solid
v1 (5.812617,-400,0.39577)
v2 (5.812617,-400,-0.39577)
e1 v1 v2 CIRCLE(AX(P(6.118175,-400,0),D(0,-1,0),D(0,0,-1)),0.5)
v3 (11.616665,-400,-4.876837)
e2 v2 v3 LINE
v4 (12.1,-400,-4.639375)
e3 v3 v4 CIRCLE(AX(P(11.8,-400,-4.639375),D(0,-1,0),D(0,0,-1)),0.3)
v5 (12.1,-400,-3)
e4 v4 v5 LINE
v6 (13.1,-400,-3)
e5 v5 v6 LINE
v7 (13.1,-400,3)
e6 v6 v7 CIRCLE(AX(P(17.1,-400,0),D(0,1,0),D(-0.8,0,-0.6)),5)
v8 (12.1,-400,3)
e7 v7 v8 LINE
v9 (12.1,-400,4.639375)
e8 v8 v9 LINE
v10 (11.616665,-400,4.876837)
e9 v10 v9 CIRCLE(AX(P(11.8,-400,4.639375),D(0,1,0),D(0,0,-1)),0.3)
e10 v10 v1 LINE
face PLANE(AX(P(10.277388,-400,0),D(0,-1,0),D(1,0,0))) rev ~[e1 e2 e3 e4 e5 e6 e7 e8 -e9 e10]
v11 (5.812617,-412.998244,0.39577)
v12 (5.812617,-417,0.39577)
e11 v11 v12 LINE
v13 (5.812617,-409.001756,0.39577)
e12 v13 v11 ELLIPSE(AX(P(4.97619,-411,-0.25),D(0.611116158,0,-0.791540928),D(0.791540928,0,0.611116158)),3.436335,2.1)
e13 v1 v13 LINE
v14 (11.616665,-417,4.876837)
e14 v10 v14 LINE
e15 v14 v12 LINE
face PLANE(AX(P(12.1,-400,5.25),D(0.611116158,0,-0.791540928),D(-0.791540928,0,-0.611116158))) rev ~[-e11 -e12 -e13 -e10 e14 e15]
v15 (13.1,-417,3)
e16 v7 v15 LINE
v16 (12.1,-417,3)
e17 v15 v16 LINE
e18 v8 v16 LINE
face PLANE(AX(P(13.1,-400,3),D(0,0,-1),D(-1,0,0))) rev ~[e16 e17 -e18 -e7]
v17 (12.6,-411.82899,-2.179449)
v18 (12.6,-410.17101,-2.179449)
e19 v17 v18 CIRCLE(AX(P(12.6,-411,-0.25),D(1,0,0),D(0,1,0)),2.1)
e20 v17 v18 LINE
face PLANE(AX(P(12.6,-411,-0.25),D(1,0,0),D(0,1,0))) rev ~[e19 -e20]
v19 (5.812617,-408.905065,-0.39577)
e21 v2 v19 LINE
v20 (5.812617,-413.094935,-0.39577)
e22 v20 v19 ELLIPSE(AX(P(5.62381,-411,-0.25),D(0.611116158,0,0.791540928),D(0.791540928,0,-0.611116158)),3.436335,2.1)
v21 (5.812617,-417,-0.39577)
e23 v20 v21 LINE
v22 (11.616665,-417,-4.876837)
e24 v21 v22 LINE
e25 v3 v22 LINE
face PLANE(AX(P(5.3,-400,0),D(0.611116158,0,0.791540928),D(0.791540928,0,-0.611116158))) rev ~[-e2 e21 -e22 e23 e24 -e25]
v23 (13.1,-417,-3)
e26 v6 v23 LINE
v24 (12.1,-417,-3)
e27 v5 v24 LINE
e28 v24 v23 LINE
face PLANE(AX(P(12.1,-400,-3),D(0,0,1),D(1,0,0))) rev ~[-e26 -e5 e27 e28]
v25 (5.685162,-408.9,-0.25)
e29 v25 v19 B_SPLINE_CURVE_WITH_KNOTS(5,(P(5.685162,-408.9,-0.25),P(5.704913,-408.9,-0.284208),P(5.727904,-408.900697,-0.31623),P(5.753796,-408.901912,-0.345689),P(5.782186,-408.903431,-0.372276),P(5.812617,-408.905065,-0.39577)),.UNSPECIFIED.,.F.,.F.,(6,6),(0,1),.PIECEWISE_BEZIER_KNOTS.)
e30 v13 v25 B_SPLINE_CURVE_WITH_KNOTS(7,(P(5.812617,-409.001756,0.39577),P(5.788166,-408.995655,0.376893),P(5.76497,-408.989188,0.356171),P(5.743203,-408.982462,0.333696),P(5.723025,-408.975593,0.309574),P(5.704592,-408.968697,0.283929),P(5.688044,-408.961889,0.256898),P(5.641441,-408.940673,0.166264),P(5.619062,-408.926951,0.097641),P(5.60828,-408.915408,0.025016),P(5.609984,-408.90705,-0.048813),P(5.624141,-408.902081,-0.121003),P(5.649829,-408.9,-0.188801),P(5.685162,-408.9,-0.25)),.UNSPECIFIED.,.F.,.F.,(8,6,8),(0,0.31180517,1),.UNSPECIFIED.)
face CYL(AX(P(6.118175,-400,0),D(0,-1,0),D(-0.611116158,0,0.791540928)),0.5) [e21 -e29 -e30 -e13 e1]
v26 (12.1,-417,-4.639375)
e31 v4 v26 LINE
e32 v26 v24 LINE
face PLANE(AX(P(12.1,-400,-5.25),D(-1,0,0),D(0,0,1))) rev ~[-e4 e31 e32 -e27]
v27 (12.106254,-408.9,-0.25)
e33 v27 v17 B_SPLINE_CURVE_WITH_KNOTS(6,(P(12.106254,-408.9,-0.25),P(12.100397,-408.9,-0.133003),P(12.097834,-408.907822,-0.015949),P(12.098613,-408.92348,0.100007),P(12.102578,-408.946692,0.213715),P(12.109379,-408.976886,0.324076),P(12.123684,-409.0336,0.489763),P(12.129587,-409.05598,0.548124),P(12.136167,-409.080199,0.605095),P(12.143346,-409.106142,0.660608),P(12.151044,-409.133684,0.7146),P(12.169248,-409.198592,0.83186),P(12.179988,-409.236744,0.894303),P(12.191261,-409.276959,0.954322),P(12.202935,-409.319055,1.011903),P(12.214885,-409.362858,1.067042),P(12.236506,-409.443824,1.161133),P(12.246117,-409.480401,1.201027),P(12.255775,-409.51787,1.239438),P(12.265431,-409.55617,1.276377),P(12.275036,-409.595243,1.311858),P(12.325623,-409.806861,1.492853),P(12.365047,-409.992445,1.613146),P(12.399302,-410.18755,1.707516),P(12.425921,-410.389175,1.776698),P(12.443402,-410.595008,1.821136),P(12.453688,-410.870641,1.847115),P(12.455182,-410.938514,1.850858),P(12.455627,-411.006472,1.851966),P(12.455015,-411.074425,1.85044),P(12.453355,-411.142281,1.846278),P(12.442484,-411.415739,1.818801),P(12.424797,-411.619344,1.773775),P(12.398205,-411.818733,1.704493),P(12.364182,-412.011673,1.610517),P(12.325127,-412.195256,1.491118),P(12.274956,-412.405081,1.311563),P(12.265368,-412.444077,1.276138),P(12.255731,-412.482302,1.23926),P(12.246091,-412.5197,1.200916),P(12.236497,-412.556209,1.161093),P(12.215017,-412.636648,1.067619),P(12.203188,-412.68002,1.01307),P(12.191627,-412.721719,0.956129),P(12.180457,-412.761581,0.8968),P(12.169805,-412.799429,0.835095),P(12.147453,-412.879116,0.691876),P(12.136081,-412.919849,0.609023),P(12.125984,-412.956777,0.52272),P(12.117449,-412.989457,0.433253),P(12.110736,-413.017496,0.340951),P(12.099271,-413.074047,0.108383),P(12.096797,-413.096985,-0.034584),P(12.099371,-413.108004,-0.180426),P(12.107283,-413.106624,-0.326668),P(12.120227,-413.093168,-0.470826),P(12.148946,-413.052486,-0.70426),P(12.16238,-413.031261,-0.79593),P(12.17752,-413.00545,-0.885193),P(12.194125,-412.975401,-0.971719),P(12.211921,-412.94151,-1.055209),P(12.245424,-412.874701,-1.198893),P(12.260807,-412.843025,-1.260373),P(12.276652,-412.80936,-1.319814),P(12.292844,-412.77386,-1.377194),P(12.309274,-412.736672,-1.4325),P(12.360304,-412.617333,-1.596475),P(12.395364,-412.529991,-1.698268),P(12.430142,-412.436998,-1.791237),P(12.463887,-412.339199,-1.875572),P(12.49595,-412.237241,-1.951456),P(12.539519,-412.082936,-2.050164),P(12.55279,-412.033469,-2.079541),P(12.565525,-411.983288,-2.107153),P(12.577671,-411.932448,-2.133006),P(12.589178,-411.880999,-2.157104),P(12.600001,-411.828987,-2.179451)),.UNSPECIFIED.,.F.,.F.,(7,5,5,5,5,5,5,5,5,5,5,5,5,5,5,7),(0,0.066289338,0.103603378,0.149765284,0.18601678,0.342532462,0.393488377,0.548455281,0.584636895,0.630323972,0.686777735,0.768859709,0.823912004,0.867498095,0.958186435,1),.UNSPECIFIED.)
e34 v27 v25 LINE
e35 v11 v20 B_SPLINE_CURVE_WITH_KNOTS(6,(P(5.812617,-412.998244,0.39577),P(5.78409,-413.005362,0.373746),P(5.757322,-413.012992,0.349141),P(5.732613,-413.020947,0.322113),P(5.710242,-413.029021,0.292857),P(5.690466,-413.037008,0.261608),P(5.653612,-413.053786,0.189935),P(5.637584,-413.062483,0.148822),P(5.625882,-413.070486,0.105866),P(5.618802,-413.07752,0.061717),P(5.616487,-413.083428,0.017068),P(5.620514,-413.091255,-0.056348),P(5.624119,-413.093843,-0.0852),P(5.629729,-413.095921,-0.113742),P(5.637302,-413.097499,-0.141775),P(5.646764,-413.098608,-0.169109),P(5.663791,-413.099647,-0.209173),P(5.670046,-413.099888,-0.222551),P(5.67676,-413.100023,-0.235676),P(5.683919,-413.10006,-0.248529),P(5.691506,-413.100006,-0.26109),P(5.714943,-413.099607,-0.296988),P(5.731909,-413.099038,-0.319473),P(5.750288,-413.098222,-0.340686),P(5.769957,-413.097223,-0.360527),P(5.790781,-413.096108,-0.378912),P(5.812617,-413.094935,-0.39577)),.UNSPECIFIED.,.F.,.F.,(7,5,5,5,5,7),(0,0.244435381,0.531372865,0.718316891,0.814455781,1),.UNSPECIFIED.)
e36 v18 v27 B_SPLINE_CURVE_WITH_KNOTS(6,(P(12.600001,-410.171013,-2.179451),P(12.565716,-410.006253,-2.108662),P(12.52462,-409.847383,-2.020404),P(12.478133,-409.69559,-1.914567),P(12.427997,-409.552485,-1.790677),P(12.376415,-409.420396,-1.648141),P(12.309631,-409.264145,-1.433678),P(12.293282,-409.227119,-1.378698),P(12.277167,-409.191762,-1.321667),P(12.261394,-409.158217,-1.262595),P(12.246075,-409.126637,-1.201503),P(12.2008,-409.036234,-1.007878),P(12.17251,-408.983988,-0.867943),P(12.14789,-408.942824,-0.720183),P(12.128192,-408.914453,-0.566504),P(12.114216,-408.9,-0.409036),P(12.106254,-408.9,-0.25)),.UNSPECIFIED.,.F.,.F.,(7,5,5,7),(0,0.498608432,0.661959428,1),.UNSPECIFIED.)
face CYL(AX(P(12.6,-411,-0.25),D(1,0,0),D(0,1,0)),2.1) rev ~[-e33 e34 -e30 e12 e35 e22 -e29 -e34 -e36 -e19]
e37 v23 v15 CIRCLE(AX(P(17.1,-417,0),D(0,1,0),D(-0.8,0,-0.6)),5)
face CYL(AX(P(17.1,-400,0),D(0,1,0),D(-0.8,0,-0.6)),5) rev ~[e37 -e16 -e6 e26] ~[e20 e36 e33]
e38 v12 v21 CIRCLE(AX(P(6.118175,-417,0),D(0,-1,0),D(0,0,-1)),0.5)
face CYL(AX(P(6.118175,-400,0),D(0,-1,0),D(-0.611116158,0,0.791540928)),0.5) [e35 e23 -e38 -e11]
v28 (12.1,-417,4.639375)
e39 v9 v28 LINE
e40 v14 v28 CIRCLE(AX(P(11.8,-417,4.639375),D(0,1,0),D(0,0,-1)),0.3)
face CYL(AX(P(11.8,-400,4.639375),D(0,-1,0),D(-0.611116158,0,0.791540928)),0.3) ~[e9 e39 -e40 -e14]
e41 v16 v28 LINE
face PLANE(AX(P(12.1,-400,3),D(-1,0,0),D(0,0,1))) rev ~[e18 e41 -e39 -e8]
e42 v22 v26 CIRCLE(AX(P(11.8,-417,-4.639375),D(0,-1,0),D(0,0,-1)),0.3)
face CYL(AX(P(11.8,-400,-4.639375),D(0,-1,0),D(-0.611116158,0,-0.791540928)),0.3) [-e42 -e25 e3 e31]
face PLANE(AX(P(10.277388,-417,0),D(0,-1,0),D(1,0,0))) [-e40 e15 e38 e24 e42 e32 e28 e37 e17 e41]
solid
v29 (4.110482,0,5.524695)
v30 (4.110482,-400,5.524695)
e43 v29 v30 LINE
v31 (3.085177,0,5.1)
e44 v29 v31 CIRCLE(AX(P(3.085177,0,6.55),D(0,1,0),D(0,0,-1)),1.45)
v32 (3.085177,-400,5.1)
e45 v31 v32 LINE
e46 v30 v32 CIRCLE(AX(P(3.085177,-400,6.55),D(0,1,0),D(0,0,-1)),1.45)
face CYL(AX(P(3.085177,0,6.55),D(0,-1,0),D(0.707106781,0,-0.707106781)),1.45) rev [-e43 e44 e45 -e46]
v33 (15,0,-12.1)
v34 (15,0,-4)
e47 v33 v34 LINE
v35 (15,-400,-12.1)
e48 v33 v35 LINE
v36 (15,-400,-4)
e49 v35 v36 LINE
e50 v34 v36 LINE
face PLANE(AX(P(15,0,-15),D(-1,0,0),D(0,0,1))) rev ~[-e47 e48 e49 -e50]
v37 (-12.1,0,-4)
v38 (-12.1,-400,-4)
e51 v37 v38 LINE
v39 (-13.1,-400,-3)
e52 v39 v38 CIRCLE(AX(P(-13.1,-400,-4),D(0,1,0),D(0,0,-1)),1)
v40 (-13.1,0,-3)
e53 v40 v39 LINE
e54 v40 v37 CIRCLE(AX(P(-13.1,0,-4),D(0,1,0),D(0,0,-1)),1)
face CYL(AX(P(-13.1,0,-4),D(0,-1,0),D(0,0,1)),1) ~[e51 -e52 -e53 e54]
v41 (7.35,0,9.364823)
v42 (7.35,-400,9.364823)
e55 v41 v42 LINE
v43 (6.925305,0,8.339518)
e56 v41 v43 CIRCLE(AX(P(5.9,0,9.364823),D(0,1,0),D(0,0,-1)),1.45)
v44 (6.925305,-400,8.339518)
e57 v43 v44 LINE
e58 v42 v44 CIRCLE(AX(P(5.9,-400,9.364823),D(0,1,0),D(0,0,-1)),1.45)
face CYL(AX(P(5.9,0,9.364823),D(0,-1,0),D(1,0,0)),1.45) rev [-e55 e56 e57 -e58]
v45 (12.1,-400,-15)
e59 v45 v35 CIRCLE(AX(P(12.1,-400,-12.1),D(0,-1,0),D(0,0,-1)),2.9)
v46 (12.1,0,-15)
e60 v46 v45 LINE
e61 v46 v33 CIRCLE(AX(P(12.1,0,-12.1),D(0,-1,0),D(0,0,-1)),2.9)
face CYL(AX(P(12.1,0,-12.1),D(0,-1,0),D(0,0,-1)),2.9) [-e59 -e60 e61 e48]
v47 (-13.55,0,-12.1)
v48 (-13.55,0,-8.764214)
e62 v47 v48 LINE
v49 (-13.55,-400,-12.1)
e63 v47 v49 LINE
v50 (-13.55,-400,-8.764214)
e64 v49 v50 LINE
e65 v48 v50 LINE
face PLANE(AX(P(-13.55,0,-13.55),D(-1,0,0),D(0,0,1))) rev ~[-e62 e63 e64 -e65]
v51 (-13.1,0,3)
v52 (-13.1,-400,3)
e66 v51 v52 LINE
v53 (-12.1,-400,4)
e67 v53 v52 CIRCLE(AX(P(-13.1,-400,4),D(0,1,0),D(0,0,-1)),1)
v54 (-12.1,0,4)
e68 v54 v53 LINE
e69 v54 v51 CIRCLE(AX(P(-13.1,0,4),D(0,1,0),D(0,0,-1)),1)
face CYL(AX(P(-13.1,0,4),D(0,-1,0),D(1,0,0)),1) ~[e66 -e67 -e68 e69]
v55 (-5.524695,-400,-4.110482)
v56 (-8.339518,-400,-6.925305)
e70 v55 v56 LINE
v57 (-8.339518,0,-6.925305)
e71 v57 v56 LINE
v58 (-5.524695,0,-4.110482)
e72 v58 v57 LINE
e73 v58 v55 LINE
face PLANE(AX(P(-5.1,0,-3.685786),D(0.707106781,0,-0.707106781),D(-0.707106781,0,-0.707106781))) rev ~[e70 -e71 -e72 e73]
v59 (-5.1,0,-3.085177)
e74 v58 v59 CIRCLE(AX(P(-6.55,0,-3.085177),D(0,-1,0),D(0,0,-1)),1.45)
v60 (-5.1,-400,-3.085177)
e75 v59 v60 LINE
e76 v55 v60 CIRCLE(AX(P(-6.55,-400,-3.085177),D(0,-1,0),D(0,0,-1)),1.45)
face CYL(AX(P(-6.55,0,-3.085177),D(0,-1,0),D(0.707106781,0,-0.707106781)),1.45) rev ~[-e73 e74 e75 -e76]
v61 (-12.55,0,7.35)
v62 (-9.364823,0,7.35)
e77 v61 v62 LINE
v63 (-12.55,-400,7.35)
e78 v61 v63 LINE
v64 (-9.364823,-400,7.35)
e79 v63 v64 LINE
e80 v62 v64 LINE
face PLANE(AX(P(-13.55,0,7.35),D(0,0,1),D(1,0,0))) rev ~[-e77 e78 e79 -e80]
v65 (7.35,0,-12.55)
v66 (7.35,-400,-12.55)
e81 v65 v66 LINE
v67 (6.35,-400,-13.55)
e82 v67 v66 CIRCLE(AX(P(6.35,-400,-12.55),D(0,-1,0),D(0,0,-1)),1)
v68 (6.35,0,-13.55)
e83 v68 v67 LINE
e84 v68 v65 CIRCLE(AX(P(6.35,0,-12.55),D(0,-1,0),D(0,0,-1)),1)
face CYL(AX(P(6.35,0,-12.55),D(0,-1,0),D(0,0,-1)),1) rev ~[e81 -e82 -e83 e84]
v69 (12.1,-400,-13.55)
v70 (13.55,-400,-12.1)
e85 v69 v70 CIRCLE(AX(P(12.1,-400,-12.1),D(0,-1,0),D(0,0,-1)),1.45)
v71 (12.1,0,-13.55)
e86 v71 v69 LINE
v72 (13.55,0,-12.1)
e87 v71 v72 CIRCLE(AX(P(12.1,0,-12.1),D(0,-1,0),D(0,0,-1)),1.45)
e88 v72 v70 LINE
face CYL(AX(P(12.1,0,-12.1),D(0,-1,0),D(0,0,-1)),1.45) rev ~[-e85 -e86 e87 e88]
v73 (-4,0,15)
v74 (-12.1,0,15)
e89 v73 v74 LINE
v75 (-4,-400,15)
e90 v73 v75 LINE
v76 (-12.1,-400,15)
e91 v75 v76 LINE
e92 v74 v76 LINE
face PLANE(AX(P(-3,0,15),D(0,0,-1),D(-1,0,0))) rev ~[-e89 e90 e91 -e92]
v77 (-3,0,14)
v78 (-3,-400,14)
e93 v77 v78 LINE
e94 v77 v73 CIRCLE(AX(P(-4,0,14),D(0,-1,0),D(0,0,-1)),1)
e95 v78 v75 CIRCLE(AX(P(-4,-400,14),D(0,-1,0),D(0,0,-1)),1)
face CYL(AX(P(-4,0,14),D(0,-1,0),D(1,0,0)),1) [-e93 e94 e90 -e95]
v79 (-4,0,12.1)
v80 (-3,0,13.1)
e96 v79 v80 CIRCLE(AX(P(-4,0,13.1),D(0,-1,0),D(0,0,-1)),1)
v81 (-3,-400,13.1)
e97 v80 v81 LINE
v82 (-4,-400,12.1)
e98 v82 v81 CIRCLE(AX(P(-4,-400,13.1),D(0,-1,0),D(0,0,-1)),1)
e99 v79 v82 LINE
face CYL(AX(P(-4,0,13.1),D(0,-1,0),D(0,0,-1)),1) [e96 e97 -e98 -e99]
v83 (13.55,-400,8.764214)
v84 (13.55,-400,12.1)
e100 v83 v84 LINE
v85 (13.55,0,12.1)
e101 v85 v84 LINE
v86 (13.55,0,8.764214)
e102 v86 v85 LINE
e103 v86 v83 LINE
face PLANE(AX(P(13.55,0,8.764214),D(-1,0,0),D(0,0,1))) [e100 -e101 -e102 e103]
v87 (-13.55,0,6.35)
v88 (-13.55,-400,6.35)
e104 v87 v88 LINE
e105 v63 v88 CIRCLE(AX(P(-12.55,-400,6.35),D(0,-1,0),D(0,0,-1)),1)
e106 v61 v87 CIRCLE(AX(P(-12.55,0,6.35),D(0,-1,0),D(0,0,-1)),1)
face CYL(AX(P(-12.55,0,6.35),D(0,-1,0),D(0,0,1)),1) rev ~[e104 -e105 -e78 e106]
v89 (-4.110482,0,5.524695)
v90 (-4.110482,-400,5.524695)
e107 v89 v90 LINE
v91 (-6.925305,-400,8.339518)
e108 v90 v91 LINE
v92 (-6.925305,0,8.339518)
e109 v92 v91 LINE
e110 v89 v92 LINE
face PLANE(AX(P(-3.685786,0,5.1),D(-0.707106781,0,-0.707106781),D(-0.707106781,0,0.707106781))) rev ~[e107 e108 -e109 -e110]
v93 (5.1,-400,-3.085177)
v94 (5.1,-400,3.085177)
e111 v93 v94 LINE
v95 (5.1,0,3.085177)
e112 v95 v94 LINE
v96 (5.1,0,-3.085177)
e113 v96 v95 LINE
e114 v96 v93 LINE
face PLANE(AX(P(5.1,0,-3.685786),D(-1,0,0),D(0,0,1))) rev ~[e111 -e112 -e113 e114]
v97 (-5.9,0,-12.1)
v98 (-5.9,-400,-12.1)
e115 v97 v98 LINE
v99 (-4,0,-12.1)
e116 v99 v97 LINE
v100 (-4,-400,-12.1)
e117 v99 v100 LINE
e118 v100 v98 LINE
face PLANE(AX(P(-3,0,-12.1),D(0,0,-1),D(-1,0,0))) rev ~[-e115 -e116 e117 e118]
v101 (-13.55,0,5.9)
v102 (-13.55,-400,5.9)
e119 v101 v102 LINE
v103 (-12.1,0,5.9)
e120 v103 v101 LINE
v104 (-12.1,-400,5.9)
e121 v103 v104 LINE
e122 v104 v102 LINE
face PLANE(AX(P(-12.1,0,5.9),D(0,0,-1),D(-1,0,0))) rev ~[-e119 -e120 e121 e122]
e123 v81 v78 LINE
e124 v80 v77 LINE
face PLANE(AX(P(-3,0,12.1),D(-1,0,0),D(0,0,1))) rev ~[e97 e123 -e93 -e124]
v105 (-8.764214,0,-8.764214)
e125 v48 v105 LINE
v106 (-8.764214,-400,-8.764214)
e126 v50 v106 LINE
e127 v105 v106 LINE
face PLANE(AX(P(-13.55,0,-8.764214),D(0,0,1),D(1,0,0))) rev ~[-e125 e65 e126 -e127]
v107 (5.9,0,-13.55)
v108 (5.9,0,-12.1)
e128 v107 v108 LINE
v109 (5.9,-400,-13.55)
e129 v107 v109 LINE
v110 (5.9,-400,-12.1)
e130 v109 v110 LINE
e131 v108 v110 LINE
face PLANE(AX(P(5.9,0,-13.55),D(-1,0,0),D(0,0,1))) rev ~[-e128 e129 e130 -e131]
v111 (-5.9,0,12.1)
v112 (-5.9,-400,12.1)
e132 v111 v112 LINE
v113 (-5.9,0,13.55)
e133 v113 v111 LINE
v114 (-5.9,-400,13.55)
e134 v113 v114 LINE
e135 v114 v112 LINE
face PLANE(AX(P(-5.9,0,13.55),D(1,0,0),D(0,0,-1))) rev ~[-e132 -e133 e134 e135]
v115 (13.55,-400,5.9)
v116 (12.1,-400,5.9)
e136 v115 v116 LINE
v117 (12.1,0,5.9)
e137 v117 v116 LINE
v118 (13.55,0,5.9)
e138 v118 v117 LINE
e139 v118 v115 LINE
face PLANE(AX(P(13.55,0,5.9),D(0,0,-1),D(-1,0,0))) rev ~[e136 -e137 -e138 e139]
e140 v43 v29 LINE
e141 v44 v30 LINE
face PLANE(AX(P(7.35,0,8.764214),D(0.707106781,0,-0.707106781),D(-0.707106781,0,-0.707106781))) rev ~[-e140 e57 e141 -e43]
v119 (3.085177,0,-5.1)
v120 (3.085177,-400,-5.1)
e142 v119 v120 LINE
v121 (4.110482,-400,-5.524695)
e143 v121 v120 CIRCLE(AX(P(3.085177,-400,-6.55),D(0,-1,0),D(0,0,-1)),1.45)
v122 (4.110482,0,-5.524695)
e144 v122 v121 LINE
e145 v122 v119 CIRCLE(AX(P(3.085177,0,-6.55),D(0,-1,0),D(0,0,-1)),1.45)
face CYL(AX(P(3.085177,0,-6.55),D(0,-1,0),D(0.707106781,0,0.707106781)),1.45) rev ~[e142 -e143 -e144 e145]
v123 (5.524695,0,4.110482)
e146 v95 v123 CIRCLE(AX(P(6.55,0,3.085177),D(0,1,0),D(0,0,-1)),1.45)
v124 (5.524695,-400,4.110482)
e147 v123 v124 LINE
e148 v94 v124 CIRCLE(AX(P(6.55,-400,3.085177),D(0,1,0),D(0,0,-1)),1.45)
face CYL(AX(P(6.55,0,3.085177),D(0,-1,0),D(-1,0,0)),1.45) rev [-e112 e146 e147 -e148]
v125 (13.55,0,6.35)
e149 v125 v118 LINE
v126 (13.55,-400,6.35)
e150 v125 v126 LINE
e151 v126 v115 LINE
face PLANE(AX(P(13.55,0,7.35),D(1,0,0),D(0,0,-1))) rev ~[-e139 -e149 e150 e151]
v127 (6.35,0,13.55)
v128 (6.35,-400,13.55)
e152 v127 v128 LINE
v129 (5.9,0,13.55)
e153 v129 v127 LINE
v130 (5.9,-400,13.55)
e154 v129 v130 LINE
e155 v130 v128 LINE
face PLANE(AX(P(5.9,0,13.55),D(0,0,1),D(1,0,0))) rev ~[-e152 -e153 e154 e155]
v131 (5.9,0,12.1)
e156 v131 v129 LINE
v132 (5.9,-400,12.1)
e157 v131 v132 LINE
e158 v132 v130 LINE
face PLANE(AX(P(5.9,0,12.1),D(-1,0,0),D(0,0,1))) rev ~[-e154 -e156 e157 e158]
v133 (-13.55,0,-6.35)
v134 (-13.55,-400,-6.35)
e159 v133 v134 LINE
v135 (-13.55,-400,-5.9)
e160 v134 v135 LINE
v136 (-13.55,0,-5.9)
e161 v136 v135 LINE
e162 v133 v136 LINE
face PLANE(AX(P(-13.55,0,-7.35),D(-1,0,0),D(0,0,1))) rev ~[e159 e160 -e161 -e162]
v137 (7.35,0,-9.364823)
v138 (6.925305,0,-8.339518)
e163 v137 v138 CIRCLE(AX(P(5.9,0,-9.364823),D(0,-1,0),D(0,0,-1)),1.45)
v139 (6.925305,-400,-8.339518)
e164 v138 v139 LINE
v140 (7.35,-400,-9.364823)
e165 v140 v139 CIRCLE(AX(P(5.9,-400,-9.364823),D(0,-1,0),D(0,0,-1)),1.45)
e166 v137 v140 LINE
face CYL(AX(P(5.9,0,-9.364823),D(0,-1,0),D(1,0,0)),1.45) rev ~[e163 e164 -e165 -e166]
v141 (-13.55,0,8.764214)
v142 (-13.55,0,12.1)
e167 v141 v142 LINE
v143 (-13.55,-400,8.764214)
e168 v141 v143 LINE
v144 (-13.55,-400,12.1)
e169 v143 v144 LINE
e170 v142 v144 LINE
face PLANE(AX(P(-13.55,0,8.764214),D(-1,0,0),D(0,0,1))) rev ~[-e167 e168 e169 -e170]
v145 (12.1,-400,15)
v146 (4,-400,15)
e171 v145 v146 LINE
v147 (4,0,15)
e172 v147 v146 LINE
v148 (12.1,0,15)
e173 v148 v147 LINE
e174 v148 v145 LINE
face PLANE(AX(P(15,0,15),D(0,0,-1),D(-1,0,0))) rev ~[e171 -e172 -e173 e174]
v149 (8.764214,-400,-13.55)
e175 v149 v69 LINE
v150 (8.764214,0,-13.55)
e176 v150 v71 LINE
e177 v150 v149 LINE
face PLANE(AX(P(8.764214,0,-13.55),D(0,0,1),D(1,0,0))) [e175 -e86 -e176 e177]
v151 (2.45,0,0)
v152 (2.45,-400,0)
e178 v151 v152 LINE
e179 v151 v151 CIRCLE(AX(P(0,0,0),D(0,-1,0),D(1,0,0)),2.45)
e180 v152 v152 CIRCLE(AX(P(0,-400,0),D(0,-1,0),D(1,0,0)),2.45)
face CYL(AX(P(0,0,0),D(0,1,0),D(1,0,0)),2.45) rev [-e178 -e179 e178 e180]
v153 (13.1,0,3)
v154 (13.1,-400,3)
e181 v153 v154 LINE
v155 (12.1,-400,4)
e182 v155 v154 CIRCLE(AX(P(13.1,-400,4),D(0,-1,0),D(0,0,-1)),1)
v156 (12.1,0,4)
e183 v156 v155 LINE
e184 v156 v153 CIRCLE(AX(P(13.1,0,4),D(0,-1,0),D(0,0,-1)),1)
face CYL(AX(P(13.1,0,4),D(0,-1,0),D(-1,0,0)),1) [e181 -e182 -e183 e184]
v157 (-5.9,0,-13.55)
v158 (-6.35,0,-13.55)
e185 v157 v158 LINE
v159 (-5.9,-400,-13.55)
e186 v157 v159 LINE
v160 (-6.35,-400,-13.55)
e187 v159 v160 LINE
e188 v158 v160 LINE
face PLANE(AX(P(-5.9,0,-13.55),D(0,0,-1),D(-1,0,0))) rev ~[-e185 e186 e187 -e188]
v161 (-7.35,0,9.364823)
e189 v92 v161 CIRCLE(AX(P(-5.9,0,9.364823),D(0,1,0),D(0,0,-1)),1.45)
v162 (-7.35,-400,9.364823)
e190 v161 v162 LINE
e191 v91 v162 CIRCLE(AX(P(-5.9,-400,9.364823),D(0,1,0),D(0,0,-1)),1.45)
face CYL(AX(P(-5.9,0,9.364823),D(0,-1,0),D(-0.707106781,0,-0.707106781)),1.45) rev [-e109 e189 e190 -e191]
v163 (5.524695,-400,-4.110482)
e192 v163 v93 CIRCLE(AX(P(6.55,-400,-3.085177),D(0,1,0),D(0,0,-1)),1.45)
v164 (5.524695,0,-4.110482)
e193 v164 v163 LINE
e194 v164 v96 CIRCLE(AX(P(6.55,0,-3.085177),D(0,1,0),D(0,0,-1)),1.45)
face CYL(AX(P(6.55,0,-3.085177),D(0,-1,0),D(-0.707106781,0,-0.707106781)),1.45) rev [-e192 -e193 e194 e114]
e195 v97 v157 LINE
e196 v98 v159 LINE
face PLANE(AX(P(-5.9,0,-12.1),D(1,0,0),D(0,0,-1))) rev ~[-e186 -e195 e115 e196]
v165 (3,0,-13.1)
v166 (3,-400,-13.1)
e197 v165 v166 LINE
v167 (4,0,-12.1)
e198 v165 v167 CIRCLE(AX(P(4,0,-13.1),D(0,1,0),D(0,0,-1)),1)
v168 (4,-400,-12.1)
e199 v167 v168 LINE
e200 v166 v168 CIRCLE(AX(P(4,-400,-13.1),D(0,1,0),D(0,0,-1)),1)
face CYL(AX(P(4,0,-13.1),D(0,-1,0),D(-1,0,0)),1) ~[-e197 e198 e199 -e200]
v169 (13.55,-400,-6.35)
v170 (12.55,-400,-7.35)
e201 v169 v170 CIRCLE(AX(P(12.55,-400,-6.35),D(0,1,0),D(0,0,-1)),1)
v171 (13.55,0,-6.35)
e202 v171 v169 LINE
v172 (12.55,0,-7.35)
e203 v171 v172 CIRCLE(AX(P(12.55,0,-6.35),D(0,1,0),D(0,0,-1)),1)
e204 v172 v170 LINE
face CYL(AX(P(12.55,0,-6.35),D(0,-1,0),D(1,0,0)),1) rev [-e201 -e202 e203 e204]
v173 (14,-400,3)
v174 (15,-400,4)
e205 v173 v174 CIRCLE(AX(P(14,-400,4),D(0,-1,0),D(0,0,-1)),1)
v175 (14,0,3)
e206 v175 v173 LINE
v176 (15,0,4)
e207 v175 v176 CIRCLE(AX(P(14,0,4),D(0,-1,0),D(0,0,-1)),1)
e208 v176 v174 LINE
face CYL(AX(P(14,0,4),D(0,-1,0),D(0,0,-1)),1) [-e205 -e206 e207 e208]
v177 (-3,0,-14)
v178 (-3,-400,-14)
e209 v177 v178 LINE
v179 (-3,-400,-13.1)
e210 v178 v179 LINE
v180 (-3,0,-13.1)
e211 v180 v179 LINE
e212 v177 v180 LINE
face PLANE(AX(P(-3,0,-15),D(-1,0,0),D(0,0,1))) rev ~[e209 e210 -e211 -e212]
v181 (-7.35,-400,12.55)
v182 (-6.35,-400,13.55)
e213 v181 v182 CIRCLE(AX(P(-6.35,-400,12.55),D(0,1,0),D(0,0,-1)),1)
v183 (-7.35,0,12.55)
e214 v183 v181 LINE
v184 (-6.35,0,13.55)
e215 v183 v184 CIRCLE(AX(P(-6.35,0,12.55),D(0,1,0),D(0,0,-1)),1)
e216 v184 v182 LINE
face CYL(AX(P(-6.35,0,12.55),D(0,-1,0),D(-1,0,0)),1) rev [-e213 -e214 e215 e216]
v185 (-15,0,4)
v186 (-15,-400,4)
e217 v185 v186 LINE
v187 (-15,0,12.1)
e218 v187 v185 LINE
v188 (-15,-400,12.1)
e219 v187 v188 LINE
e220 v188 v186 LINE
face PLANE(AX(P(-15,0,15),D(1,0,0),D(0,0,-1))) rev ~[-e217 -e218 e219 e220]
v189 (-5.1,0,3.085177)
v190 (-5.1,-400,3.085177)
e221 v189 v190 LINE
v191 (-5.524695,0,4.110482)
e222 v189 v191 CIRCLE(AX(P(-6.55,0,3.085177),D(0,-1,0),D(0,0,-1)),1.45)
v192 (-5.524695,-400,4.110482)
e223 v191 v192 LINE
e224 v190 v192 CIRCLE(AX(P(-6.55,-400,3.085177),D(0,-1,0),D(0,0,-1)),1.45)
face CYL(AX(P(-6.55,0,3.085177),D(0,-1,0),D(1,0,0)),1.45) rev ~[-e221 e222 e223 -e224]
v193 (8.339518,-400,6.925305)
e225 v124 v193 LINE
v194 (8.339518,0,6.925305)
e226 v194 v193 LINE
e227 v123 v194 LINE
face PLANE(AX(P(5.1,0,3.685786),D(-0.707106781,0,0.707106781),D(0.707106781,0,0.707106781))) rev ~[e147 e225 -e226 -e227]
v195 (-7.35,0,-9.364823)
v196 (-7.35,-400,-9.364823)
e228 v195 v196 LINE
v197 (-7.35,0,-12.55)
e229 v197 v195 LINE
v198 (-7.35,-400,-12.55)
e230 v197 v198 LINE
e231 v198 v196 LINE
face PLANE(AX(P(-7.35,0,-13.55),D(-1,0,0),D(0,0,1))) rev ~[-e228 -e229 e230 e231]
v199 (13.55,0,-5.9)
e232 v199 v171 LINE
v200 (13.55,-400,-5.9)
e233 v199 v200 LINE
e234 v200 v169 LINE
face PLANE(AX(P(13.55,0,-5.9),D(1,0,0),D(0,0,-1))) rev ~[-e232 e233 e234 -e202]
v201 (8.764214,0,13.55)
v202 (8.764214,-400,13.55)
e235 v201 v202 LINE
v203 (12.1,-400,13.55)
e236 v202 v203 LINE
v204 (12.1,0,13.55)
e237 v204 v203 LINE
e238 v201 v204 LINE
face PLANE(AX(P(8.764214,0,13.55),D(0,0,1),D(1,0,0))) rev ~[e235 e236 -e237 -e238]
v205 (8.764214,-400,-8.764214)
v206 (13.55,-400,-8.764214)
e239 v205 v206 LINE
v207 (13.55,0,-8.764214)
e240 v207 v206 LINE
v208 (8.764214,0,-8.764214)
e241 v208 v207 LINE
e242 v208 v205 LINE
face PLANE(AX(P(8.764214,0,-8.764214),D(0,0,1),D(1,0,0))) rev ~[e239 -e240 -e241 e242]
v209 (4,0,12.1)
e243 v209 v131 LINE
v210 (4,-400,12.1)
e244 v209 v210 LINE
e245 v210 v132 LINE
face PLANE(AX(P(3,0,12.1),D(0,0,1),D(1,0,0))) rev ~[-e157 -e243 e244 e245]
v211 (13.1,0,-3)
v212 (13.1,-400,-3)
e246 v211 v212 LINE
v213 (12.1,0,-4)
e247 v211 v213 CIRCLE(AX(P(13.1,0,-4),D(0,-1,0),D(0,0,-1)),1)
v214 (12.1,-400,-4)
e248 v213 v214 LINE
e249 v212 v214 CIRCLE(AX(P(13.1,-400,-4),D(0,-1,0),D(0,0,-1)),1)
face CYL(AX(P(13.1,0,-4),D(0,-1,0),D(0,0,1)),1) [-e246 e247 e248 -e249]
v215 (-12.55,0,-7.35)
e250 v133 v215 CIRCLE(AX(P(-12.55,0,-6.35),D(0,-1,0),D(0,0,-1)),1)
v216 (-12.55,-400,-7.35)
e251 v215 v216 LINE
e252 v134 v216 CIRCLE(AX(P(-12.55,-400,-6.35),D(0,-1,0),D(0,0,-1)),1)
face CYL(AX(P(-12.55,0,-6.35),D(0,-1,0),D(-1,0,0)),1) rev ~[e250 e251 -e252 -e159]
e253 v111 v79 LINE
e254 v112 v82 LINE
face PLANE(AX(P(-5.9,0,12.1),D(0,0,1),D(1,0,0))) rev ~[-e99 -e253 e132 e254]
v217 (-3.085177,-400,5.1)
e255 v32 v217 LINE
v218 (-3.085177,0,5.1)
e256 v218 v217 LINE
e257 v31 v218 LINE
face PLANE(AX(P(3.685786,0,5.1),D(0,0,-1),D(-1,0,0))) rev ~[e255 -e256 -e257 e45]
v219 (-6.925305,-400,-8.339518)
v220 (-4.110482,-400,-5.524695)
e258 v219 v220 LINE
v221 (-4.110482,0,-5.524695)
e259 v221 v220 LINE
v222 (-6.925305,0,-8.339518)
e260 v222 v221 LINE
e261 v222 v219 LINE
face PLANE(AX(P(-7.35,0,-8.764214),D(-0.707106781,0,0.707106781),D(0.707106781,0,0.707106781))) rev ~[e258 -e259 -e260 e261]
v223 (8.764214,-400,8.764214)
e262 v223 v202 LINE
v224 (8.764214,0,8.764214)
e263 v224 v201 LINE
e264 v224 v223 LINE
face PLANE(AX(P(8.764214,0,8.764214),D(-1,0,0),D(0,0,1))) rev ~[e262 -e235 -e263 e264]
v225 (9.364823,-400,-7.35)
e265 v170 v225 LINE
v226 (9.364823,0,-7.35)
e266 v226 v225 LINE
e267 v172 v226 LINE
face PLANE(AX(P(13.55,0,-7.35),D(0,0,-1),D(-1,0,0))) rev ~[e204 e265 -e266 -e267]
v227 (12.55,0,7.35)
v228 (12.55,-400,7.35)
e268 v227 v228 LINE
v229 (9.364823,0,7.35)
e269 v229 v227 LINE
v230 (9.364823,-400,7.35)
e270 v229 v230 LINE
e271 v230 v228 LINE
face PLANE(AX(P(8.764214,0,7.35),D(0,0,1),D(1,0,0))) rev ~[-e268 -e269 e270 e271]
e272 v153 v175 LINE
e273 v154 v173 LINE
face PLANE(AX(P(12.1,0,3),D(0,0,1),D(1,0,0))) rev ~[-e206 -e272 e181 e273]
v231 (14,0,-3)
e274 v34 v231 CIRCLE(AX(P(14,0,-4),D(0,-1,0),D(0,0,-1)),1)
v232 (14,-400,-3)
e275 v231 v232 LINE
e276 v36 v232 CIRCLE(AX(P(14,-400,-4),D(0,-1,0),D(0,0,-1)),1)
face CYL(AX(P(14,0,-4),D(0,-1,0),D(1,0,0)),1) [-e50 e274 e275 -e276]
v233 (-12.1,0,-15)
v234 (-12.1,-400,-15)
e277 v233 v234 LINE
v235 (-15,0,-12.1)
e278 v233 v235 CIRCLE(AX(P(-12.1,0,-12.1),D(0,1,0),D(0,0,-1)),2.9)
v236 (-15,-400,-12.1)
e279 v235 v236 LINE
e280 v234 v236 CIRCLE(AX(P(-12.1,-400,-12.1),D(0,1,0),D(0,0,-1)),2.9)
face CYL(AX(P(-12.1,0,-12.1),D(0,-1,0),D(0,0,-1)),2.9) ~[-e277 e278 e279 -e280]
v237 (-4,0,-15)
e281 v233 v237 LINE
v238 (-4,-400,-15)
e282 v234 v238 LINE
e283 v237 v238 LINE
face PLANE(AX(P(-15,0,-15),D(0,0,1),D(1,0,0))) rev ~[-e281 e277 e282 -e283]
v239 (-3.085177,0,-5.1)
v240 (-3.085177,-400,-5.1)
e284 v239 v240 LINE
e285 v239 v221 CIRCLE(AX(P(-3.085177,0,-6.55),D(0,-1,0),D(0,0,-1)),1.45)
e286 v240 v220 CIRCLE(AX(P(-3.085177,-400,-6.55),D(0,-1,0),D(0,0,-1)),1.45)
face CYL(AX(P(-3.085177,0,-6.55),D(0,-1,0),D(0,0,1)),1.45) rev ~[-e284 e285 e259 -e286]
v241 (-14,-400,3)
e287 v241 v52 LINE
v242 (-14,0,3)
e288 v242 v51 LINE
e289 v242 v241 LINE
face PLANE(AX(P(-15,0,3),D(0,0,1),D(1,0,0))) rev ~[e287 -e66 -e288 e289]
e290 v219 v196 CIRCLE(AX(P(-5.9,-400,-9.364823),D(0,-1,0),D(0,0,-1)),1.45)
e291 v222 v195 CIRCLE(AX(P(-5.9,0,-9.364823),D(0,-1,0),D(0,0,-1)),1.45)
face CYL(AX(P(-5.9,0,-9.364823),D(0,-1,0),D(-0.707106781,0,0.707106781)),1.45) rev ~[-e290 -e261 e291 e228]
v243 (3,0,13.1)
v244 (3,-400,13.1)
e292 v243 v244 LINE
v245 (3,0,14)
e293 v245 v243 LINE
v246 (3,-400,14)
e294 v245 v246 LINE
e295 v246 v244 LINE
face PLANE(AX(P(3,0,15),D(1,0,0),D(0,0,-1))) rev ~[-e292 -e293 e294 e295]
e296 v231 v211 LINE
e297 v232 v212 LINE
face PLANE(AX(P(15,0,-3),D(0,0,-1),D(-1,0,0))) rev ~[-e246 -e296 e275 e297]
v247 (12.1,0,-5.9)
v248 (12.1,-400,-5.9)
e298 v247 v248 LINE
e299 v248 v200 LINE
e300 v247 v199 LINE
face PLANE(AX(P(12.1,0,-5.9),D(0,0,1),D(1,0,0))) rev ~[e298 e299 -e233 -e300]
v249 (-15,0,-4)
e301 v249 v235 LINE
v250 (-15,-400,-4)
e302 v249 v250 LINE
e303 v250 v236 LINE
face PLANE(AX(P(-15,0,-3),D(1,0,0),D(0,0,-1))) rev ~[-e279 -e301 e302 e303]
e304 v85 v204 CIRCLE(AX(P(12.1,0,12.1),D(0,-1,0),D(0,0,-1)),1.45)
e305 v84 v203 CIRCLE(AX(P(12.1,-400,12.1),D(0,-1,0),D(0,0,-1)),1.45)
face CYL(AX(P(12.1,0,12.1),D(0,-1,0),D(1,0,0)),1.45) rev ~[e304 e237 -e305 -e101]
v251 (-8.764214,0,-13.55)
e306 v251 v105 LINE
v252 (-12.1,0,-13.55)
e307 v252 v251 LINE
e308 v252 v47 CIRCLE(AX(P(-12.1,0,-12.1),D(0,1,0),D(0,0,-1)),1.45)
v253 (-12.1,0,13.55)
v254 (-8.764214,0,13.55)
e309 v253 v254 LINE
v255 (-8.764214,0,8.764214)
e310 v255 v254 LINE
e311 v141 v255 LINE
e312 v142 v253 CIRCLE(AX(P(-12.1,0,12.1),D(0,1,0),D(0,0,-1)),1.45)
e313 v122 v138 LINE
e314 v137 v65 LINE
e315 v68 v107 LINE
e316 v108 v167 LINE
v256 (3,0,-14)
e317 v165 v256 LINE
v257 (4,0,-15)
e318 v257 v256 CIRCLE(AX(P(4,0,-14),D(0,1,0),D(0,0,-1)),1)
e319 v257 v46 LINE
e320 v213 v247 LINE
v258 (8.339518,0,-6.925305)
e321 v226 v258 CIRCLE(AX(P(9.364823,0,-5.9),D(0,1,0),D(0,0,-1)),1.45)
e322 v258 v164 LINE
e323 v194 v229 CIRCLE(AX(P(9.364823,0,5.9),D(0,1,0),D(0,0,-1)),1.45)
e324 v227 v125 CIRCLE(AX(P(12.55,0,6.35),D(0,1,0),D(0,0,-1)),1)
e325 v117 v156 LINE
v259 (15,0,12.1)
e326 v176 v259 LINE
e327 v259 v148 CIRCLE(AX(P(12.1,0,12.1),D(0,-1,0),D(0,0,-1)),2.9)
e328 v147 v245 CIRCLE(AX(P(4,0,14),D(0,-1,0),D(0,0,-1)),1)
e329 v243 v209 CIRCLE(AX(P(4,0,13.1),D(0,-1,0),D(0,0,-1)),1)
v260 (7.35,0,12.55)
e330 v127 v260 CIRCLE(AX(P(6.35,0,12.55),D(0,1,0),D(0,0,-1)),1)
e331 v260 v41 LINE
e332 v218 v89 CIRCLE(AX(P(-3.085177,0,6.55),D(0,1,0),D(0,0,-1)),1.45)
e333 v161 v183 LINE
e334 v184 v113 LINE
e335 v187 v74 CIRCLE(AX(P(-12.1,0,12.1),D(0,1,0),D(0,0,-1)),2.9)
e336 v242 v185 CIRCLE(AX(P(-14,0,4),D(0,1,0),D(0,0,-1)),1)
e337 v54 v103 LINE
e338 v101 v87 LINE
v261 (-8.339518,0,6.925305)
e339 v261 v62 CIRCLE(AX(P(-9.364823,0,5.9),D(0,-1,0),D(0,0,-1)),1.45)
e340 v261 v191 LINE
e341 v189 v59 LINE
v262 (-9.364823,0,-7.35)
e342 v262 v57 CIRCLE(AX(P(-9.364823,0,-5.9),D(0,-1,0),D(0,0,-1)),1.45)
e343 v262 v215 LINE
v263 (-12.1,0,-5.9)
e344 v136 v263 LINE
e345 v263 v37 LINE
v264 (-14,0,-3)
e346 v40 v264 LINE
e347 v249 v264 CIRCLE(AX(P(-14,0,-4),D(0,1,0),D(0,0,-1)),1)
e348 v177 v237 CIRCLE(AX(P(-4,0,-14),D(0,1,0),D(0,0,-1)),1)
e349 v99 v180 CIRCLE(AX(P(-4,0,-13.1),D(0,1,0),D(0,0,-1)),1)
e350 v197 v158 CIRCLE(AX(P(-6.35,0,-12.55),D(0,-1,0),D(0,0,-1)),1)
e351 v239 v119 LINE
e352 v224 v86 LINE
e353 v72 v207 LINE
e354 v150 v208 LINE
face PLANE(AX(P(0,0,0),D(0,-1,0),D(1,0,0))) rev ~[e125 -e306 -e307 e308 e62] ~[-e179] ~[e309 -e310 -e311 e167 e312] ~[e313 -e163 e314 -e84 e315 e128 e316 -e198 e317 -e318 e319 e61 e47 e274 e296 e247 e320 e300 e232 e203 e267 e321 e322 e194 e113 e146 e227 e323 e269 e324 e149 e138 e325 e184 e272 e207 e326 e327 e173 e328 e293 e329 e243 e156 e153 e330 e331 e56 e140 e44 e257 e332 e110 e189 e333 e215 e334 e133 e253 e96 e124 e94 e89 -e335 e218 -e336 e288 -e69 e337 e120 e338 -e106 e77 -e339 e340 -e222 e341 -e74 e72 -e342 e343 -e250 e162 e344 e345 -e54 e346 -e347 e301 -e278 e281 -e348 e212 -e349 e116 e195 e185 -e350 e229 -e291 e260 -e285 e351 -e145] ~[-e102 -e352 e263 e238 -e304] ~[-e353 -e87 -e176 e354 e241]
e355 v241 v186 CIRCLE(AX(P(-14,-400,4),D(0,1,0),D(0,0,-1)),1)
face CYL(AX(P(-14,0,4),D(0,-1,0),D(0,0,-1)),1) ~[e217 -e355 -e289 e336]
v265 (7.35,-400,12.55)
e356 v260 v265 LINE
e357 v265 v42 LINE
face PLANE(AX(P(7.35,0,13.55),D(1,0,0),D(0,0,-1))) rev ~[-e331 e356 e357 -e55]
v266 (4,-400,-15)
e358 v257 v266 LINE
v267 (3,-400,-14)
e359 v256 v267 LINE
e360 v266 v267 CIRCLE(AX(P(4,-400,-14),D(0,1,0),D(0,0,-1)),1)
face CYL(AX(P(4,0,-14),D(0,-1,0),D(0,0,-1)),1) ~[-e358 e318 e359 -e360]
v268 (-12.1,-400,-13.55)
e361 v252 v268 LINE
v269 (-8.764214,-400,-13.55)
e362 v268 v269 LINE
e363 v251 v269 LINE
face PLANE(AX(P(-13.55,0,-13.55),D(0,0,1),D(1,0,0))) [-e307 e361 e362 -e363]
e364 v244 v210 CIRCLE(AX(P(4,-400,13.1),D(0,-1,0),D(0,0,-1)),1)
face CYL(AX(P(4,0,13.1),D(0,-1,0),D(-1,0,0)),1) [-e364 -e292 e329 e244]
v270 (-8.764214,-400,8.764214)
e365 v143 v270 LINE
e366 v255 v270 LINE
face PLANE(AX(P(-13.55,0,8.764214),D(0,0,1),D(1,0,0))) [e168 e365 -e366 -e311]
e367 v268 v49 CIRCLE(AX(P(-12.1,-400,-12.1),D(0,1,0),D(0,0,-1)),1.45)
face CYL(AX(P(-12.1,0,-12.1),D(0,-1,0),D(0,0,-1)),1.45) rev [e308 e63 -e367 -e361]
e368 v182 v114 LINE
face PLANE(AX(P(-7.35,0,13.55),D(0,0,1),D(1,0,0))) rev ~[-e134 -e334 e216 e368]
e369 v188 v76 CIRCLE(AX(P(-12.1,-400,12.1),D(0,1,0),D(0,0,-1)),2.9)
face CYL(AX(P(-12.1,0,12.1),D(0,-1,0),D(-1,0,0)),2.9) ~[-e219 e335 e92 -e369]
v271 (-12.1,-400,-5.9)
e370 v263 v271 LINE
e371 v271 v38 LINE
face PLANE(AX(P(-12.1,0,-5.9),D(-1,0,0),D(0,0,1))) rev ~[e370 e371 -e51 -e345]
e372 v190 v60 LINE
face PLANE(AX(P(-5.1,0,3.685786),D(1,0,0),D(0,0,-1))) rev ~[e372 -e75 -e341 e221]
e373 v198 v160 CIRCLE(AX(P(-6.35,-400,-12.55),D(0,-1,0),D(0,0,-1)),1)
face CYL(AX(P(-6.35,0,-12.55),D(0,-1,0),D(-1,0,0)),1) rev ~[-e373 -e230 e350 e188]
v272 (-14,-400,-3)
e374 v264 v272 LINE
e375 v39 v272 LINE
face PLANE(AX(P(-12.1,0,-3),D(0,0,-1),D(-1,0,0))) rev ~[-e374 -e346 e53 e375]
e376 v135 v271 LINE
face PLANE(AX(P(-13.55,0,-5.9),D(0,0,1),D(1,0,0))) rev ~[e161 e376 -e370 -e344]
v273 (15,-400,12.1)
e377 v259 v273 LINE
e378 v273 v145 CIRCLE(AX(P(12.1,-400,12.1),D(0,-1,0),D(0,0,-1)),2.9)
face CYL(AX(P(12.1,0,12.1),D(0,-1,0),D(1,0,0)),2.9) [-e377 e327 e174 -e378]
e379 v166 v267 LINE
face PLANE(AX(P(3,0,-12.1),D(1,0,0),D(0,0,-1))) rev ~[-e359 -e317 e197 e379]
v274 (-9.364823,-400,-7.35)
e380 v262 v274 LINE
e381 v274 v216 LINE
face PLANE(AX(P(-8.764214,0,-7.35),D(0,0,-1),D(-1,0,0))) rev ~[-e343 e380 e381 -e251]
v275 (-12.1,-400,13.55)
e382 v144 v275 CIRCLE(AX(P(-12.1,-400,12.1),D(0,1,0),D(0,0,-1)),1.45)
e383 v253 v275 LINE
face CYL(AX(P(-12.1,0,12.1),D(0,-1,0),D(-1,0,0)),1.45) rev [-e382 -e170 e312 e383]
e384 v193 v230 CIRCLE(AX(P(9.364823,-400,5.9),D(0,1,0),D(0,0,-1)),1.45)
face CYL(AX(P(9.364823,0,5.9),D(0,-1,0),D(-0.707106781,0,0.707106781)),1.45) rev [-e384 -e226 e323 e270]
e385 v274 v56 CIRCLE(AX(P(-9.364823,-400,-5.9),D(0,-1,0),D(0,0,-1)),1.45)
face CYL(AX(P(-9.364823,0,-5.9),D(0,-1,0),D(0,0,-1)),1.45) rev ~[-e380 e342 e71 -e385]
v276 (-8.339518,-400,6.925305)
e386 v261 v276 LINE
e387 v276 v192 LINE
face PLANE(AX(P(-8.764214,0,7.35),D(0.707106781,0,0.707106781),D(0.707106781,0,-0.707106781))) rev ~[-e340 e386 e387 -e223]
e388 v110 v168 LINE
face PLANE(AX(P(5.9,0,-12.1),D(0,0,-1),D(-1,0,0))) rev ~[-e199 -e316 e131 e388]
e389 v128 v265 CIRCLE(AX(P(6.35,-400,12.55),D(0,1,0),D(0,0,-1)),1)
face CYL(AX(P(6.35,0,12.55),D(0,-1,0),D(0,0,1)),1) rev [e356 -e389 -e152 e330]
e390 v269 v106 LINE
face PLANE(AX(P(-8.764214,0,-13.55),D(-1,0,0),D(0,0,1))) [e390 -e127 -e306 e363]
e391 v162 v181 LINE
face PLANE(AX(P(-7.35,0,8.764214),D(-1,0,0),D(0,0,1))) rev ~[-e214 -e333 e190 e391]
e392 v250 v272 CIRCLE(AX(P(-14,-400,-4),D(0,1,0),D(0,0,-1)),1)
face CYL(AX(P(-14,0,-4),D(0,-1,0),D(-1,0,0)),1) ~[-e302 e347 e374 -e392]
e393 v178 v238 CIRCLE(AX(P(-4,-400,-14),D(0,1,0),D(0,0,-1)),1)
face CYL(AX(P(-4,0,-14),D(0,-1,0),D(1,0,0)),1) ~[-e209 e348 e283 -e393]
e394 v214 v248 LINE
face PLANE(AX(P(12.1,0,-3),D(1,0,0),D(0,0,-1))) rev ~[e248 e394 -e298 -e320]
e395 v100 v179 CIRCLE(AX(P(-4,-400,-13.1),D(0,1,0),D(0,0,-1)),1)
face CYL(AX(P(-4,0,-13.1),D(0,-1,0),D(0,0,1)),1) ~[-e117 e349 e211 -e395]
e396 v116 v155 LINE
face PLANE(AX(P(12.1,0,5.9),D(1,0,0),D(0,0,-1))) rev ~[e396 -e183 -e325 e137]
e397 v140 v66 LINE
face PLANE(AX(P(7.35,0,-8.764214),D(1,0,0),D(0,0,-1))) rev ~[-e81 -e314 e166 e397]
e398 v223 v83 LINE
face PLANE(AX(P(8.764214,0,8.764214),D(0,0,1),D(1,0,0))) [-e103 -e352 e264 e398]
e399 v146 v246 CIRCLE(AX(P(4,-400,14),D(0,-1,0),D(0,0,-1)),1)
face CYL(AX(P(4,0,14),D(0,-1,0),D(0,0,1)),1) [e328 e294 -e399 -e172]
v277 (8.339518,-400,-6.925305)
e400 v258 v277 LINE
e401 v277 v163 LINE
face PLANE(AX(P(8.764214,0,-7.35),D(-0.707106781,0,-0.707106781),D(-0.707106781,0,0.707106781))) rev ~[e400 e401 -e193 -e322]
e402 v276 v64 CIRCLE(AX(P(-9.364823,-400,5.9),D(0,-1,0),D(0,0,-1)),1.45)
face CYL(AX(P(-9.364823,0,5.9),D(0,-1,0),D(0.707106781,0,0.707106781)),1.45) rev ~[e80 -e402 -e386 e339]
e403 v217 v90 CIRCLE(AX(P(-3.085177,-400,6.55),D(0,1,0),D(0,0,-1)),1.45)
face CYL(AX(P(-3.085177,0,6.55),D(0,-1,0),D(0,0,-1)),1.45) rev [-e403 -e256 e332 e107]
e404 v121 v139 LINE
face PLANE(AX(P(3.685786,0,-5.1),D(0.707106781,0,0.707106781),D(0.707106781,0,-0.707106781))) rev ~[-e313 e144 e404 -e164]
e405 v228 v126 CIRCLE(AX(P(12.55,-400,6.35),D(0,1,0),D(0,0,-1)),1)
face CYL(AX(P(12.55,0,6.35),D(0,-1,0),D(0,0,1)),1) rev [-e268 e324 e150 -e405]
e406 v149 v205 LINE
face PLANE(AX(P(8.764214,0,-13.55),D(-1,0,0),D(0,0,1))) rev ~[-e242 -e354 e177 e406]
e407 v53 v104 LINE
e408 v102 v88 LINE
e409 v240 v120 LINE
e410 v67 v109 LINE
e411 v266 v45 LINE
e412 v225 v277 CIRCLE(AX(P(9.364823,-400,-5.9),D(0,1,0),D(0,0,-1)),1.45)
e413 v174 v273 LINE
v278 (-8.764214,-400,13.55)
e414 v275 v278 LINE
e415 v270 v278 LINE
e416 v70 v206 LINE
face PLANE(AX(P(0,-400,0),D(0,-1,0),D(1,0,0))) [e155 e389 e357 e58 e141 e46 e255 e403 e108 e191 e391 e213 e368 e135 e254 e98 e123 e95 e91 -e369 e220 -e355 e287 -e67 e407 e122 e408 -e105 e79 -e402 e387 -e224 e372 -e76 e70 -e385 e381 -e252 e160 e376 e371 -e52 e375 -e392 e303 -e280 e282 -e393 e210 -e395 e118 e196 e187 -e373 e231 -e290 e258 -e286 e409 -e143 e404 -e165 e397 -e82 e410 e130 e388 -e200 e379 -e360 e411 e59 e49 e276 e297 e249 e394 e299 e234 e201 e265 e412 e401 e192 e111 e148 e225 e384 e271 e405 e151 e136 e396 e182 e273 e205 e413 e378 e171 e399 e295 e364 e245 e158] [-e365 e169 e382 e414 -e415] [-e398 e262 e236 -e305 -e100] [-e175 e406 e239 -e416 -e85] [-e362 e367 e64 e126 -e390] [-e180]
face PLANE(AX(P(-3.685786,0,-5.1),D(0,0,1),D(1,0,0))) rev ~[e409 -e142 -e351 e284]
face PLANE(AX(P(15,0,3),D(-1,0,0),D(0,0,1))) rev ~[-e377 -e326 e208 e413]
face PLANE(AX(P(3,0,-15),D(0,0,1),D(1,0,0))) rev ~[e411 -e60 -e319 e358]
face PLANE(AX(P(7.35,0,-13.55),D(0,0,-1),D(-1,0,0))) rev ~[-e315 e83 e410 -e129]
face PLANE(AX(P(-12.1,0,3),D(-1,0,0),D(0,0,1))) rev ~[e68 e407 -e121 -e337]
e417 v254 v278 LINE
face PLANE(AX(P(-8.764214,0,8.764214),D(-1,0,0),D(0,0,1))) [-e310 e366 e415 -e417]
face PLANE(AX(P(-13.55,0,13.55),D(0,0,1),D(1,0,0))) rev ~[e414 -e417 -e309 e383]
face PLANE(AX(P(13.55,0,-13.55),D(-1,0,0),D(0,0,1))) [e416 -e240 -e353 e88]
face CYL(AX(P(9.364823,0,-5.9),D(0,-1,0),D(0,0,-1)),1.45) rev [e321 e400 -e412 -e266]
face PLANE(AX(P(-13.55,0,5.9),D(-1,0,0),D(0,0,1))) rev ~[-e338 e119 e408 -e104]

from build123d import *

# Parameters (mm, degrees)
F0_W      = 4.7857864376
F0_H      = 4.7857864376
F0_R      = 2.45
F1_DEPTH  = 400
F2_R      = 1
F3_R      = 2.9
F4_R      = 1.45
F6_DEPTH  = 17
F7_R      = 0.5
F8_R      = 0.3
F11_D     = 4.2
F11_DEPTH = 6.9828249388


with BuildPart() as f1:
    # F0 (on Front) → F1 (new body)
    with BuildSketch(Plane.XZ):
        Polygon((3, -15), (15, -15), (15, -3), (12.1, -3), (12.1, -5.9), (13.55, -5.9), (13.55, -7.35), (8.7642135624, -7.35), (5.1, -3.6857864376), (5.1, 0), (5.1, 3.6857864376), (8.7642135624, 7.35), (13.55, 7.35), (13.55, 5.9), (12.1, 5.9), (12.1, 3), (15, 3), (15, 15), (3, 15), (3, 12.1), (5.9, 12.1), (5.9, 13.55), (7.35, 13.55), (7.35, 8.7642135624), (3.6857864376, 5.1), (0, 5.1), (-3.6857864376, 5.1), (-7.35, 8.7642135624), (-7.35, 13.55), (-5.9, 13.55), (-5.9, 12.1), (-3, 12.1), (-3, 15), (-15, 15), (-15, 3), (-12.1, 3), (-12.1, 5.9), (-13.55, 5.9), (-13.55, 7.35), (-8.7642135624, 7.35), (-5.1, 3.6857864376), (-5.1, 0), (-5.1, -3.6857864376), (-8.7642135624, -7.35), (-13.55, -7.35), (-13.55, -5.9), (-12.1, -5.9), (-12.1, -3), (-15, -3), (-15, -15), (-3, -15), (-3, -12.1), (-5.9, -12.1), (-5.9, -13.55), (-7.35, -13.55), (-7.35, -8.7642135624), (-3.6857864376, -5.1), (0, -5.1), (3.6857864376, -5.1), (7.35, -8.7642135624), (7.35, -13.55), (5.9, -13.55), (5.9, -12.1), (3, -12.1), align=None)
        with Locations((-11.1571067812, -11.1571067812)):
            Rectangle(F0_W, F0_H, mode=Mode.SUBTRACT)
        with Locations((11.1571067812, -11.1571067812)):
            Rectangle(F0_W, F0_H, mode=Mode.SUBTRACT)
        with Locations((-11.1571067812, 11.1571067812)):
            Rectangle(F0_W, F0_H, mode=Mode.SUBTRACT)
        Circle(F0_R, mode=Mode.SUBTRACT)
        with Locations((11.1571067812, 11.1571067812)):
            Rectangle(F0_W, F0_H, mode=Mode.SUBTRACT)
    extrude(amount=F1_DEPTH)

    # F2
    f2_edges = [f1.edges().sort_by_distance(p)[0] for p in [
        (12.1, -200, -3),
        (15, -200, -3),
        (12.1, -200, 3),
        (15, -200, 3),
        (3, -200, -15),
        (3, -200, -12.1),
        (-3, -200, -15),
        (-3, -200, -12.1),
        (-15, -200, -3),
        (-12.1, -200, -3),
        (-12.1, -200, 3),
        (-15, -200, 3),
        (-3, -200, 12.1),
        (-3, -200, 15),
        (3, -200, 12.1),
        (3, -200, 15),
        (-13.55, -200, 7.35),
        (-7.35, -200, 13.55),
        (7.35, -200, 13.55),
        (13.55, -200, 7.35),
        (7.35, -200, -13.55),
        (13.55, -200, -7.35),
        (-7.35, -200, -13.55),
        (-13.55, -200, -7.35),
    ]]
    fillet(f2_edges, radius=F2_R)

    # F3
    f3_edges = [f1.edges().sort_by_distance(p)[0] for p in [
        (15, -200, 15),
        (-15, -200, 15),
        (-15, -200, -15),
        (15, -200, -15),
    ]]
    fillet(f3_edges, radius=F3_R)

    # F4
    f4_edges = [f1.edges().sort_by_distance(p)[0] for p in [
        (13.55, -200, -13.55),
        (-13.55, -200, -13.55),
        (-13.55, -200, 13.55),
        (13.55, -200, 13.55),
        (-7.35, -200, -8.764214),
        (-3.685786, -200, -5.1),
        (3.685786, -200, -5.1),
        (7.35, -200, -8.764214),
        (8.764214, -200, -7.35),
        (5.1, -200, -3.685786),
        (5.1, -200, 3.685786),
        (8.764214, -200, 7.35),
        (-7.35, -200, 8.764214),
        (-3.685786, -200, 5.1),
        (3.685786, -200, 5.1),
        (7.35, -200, 8.764214),
        (-8.764214, -200, 7.35),
        (-5.1, -200, 3.685786),
        (-5.1, -200, -3.685786),
        (-8.764214, -200, -7.35),
    ]]
    fillet(f4_edges, radius=F4_R)


with BuildPart() as f6:
    # F5 (on face) → F6 (new body)
    with BuildSketch(Plane.XZ.offset(400)):
        with BuildLine():
            Line((13.1, 3), (12.1, 3))
            Line((12.1, 3), (12.1, 4))
            Line((12.1, 4), (12.1, 5.25))
            Line((12.1, 5.25), (5.3, 0))
            Line((5.3, 0), (12.1, -5.25))
            Line((12.1, -5.25), (12.1, -4))
            Line((12.1, -4), (12.1, -3))
            Line((12.1, -3), (13.1, -3))
            ThreePointArc((13.1, -3), (12.1, 0), (13.1, 3))
        make_face()
    extrude(amount=F6_DEPTH)

    # F7
    f7_edges = [f6.edges().sort_by_distance(p)[0] for p in [
        (5.3, -408.5, 0),
    ]]
    fillet(f7_edges, radius=F7_R)

    # F8
    f8_edges = [f6.edges().sort_by_distance(p)[0] for p in [
        (12.1, -408.5, 5.25),
        (12.1, -408.5, -5.25),
    ]]
    fillet(f8_edges, radius=F8_R)

    # F11 (through all, one way)
    with BuildSketch(Plane.YZ.offset(12.6)):
        with Locations((-411, -0.25)):
            Circle(F11_D / 2)
    extrude(amount=-F11_DEPTH, mode=Mode.SUBTRACT)


solid = Compound([f1.part, f6.part])
